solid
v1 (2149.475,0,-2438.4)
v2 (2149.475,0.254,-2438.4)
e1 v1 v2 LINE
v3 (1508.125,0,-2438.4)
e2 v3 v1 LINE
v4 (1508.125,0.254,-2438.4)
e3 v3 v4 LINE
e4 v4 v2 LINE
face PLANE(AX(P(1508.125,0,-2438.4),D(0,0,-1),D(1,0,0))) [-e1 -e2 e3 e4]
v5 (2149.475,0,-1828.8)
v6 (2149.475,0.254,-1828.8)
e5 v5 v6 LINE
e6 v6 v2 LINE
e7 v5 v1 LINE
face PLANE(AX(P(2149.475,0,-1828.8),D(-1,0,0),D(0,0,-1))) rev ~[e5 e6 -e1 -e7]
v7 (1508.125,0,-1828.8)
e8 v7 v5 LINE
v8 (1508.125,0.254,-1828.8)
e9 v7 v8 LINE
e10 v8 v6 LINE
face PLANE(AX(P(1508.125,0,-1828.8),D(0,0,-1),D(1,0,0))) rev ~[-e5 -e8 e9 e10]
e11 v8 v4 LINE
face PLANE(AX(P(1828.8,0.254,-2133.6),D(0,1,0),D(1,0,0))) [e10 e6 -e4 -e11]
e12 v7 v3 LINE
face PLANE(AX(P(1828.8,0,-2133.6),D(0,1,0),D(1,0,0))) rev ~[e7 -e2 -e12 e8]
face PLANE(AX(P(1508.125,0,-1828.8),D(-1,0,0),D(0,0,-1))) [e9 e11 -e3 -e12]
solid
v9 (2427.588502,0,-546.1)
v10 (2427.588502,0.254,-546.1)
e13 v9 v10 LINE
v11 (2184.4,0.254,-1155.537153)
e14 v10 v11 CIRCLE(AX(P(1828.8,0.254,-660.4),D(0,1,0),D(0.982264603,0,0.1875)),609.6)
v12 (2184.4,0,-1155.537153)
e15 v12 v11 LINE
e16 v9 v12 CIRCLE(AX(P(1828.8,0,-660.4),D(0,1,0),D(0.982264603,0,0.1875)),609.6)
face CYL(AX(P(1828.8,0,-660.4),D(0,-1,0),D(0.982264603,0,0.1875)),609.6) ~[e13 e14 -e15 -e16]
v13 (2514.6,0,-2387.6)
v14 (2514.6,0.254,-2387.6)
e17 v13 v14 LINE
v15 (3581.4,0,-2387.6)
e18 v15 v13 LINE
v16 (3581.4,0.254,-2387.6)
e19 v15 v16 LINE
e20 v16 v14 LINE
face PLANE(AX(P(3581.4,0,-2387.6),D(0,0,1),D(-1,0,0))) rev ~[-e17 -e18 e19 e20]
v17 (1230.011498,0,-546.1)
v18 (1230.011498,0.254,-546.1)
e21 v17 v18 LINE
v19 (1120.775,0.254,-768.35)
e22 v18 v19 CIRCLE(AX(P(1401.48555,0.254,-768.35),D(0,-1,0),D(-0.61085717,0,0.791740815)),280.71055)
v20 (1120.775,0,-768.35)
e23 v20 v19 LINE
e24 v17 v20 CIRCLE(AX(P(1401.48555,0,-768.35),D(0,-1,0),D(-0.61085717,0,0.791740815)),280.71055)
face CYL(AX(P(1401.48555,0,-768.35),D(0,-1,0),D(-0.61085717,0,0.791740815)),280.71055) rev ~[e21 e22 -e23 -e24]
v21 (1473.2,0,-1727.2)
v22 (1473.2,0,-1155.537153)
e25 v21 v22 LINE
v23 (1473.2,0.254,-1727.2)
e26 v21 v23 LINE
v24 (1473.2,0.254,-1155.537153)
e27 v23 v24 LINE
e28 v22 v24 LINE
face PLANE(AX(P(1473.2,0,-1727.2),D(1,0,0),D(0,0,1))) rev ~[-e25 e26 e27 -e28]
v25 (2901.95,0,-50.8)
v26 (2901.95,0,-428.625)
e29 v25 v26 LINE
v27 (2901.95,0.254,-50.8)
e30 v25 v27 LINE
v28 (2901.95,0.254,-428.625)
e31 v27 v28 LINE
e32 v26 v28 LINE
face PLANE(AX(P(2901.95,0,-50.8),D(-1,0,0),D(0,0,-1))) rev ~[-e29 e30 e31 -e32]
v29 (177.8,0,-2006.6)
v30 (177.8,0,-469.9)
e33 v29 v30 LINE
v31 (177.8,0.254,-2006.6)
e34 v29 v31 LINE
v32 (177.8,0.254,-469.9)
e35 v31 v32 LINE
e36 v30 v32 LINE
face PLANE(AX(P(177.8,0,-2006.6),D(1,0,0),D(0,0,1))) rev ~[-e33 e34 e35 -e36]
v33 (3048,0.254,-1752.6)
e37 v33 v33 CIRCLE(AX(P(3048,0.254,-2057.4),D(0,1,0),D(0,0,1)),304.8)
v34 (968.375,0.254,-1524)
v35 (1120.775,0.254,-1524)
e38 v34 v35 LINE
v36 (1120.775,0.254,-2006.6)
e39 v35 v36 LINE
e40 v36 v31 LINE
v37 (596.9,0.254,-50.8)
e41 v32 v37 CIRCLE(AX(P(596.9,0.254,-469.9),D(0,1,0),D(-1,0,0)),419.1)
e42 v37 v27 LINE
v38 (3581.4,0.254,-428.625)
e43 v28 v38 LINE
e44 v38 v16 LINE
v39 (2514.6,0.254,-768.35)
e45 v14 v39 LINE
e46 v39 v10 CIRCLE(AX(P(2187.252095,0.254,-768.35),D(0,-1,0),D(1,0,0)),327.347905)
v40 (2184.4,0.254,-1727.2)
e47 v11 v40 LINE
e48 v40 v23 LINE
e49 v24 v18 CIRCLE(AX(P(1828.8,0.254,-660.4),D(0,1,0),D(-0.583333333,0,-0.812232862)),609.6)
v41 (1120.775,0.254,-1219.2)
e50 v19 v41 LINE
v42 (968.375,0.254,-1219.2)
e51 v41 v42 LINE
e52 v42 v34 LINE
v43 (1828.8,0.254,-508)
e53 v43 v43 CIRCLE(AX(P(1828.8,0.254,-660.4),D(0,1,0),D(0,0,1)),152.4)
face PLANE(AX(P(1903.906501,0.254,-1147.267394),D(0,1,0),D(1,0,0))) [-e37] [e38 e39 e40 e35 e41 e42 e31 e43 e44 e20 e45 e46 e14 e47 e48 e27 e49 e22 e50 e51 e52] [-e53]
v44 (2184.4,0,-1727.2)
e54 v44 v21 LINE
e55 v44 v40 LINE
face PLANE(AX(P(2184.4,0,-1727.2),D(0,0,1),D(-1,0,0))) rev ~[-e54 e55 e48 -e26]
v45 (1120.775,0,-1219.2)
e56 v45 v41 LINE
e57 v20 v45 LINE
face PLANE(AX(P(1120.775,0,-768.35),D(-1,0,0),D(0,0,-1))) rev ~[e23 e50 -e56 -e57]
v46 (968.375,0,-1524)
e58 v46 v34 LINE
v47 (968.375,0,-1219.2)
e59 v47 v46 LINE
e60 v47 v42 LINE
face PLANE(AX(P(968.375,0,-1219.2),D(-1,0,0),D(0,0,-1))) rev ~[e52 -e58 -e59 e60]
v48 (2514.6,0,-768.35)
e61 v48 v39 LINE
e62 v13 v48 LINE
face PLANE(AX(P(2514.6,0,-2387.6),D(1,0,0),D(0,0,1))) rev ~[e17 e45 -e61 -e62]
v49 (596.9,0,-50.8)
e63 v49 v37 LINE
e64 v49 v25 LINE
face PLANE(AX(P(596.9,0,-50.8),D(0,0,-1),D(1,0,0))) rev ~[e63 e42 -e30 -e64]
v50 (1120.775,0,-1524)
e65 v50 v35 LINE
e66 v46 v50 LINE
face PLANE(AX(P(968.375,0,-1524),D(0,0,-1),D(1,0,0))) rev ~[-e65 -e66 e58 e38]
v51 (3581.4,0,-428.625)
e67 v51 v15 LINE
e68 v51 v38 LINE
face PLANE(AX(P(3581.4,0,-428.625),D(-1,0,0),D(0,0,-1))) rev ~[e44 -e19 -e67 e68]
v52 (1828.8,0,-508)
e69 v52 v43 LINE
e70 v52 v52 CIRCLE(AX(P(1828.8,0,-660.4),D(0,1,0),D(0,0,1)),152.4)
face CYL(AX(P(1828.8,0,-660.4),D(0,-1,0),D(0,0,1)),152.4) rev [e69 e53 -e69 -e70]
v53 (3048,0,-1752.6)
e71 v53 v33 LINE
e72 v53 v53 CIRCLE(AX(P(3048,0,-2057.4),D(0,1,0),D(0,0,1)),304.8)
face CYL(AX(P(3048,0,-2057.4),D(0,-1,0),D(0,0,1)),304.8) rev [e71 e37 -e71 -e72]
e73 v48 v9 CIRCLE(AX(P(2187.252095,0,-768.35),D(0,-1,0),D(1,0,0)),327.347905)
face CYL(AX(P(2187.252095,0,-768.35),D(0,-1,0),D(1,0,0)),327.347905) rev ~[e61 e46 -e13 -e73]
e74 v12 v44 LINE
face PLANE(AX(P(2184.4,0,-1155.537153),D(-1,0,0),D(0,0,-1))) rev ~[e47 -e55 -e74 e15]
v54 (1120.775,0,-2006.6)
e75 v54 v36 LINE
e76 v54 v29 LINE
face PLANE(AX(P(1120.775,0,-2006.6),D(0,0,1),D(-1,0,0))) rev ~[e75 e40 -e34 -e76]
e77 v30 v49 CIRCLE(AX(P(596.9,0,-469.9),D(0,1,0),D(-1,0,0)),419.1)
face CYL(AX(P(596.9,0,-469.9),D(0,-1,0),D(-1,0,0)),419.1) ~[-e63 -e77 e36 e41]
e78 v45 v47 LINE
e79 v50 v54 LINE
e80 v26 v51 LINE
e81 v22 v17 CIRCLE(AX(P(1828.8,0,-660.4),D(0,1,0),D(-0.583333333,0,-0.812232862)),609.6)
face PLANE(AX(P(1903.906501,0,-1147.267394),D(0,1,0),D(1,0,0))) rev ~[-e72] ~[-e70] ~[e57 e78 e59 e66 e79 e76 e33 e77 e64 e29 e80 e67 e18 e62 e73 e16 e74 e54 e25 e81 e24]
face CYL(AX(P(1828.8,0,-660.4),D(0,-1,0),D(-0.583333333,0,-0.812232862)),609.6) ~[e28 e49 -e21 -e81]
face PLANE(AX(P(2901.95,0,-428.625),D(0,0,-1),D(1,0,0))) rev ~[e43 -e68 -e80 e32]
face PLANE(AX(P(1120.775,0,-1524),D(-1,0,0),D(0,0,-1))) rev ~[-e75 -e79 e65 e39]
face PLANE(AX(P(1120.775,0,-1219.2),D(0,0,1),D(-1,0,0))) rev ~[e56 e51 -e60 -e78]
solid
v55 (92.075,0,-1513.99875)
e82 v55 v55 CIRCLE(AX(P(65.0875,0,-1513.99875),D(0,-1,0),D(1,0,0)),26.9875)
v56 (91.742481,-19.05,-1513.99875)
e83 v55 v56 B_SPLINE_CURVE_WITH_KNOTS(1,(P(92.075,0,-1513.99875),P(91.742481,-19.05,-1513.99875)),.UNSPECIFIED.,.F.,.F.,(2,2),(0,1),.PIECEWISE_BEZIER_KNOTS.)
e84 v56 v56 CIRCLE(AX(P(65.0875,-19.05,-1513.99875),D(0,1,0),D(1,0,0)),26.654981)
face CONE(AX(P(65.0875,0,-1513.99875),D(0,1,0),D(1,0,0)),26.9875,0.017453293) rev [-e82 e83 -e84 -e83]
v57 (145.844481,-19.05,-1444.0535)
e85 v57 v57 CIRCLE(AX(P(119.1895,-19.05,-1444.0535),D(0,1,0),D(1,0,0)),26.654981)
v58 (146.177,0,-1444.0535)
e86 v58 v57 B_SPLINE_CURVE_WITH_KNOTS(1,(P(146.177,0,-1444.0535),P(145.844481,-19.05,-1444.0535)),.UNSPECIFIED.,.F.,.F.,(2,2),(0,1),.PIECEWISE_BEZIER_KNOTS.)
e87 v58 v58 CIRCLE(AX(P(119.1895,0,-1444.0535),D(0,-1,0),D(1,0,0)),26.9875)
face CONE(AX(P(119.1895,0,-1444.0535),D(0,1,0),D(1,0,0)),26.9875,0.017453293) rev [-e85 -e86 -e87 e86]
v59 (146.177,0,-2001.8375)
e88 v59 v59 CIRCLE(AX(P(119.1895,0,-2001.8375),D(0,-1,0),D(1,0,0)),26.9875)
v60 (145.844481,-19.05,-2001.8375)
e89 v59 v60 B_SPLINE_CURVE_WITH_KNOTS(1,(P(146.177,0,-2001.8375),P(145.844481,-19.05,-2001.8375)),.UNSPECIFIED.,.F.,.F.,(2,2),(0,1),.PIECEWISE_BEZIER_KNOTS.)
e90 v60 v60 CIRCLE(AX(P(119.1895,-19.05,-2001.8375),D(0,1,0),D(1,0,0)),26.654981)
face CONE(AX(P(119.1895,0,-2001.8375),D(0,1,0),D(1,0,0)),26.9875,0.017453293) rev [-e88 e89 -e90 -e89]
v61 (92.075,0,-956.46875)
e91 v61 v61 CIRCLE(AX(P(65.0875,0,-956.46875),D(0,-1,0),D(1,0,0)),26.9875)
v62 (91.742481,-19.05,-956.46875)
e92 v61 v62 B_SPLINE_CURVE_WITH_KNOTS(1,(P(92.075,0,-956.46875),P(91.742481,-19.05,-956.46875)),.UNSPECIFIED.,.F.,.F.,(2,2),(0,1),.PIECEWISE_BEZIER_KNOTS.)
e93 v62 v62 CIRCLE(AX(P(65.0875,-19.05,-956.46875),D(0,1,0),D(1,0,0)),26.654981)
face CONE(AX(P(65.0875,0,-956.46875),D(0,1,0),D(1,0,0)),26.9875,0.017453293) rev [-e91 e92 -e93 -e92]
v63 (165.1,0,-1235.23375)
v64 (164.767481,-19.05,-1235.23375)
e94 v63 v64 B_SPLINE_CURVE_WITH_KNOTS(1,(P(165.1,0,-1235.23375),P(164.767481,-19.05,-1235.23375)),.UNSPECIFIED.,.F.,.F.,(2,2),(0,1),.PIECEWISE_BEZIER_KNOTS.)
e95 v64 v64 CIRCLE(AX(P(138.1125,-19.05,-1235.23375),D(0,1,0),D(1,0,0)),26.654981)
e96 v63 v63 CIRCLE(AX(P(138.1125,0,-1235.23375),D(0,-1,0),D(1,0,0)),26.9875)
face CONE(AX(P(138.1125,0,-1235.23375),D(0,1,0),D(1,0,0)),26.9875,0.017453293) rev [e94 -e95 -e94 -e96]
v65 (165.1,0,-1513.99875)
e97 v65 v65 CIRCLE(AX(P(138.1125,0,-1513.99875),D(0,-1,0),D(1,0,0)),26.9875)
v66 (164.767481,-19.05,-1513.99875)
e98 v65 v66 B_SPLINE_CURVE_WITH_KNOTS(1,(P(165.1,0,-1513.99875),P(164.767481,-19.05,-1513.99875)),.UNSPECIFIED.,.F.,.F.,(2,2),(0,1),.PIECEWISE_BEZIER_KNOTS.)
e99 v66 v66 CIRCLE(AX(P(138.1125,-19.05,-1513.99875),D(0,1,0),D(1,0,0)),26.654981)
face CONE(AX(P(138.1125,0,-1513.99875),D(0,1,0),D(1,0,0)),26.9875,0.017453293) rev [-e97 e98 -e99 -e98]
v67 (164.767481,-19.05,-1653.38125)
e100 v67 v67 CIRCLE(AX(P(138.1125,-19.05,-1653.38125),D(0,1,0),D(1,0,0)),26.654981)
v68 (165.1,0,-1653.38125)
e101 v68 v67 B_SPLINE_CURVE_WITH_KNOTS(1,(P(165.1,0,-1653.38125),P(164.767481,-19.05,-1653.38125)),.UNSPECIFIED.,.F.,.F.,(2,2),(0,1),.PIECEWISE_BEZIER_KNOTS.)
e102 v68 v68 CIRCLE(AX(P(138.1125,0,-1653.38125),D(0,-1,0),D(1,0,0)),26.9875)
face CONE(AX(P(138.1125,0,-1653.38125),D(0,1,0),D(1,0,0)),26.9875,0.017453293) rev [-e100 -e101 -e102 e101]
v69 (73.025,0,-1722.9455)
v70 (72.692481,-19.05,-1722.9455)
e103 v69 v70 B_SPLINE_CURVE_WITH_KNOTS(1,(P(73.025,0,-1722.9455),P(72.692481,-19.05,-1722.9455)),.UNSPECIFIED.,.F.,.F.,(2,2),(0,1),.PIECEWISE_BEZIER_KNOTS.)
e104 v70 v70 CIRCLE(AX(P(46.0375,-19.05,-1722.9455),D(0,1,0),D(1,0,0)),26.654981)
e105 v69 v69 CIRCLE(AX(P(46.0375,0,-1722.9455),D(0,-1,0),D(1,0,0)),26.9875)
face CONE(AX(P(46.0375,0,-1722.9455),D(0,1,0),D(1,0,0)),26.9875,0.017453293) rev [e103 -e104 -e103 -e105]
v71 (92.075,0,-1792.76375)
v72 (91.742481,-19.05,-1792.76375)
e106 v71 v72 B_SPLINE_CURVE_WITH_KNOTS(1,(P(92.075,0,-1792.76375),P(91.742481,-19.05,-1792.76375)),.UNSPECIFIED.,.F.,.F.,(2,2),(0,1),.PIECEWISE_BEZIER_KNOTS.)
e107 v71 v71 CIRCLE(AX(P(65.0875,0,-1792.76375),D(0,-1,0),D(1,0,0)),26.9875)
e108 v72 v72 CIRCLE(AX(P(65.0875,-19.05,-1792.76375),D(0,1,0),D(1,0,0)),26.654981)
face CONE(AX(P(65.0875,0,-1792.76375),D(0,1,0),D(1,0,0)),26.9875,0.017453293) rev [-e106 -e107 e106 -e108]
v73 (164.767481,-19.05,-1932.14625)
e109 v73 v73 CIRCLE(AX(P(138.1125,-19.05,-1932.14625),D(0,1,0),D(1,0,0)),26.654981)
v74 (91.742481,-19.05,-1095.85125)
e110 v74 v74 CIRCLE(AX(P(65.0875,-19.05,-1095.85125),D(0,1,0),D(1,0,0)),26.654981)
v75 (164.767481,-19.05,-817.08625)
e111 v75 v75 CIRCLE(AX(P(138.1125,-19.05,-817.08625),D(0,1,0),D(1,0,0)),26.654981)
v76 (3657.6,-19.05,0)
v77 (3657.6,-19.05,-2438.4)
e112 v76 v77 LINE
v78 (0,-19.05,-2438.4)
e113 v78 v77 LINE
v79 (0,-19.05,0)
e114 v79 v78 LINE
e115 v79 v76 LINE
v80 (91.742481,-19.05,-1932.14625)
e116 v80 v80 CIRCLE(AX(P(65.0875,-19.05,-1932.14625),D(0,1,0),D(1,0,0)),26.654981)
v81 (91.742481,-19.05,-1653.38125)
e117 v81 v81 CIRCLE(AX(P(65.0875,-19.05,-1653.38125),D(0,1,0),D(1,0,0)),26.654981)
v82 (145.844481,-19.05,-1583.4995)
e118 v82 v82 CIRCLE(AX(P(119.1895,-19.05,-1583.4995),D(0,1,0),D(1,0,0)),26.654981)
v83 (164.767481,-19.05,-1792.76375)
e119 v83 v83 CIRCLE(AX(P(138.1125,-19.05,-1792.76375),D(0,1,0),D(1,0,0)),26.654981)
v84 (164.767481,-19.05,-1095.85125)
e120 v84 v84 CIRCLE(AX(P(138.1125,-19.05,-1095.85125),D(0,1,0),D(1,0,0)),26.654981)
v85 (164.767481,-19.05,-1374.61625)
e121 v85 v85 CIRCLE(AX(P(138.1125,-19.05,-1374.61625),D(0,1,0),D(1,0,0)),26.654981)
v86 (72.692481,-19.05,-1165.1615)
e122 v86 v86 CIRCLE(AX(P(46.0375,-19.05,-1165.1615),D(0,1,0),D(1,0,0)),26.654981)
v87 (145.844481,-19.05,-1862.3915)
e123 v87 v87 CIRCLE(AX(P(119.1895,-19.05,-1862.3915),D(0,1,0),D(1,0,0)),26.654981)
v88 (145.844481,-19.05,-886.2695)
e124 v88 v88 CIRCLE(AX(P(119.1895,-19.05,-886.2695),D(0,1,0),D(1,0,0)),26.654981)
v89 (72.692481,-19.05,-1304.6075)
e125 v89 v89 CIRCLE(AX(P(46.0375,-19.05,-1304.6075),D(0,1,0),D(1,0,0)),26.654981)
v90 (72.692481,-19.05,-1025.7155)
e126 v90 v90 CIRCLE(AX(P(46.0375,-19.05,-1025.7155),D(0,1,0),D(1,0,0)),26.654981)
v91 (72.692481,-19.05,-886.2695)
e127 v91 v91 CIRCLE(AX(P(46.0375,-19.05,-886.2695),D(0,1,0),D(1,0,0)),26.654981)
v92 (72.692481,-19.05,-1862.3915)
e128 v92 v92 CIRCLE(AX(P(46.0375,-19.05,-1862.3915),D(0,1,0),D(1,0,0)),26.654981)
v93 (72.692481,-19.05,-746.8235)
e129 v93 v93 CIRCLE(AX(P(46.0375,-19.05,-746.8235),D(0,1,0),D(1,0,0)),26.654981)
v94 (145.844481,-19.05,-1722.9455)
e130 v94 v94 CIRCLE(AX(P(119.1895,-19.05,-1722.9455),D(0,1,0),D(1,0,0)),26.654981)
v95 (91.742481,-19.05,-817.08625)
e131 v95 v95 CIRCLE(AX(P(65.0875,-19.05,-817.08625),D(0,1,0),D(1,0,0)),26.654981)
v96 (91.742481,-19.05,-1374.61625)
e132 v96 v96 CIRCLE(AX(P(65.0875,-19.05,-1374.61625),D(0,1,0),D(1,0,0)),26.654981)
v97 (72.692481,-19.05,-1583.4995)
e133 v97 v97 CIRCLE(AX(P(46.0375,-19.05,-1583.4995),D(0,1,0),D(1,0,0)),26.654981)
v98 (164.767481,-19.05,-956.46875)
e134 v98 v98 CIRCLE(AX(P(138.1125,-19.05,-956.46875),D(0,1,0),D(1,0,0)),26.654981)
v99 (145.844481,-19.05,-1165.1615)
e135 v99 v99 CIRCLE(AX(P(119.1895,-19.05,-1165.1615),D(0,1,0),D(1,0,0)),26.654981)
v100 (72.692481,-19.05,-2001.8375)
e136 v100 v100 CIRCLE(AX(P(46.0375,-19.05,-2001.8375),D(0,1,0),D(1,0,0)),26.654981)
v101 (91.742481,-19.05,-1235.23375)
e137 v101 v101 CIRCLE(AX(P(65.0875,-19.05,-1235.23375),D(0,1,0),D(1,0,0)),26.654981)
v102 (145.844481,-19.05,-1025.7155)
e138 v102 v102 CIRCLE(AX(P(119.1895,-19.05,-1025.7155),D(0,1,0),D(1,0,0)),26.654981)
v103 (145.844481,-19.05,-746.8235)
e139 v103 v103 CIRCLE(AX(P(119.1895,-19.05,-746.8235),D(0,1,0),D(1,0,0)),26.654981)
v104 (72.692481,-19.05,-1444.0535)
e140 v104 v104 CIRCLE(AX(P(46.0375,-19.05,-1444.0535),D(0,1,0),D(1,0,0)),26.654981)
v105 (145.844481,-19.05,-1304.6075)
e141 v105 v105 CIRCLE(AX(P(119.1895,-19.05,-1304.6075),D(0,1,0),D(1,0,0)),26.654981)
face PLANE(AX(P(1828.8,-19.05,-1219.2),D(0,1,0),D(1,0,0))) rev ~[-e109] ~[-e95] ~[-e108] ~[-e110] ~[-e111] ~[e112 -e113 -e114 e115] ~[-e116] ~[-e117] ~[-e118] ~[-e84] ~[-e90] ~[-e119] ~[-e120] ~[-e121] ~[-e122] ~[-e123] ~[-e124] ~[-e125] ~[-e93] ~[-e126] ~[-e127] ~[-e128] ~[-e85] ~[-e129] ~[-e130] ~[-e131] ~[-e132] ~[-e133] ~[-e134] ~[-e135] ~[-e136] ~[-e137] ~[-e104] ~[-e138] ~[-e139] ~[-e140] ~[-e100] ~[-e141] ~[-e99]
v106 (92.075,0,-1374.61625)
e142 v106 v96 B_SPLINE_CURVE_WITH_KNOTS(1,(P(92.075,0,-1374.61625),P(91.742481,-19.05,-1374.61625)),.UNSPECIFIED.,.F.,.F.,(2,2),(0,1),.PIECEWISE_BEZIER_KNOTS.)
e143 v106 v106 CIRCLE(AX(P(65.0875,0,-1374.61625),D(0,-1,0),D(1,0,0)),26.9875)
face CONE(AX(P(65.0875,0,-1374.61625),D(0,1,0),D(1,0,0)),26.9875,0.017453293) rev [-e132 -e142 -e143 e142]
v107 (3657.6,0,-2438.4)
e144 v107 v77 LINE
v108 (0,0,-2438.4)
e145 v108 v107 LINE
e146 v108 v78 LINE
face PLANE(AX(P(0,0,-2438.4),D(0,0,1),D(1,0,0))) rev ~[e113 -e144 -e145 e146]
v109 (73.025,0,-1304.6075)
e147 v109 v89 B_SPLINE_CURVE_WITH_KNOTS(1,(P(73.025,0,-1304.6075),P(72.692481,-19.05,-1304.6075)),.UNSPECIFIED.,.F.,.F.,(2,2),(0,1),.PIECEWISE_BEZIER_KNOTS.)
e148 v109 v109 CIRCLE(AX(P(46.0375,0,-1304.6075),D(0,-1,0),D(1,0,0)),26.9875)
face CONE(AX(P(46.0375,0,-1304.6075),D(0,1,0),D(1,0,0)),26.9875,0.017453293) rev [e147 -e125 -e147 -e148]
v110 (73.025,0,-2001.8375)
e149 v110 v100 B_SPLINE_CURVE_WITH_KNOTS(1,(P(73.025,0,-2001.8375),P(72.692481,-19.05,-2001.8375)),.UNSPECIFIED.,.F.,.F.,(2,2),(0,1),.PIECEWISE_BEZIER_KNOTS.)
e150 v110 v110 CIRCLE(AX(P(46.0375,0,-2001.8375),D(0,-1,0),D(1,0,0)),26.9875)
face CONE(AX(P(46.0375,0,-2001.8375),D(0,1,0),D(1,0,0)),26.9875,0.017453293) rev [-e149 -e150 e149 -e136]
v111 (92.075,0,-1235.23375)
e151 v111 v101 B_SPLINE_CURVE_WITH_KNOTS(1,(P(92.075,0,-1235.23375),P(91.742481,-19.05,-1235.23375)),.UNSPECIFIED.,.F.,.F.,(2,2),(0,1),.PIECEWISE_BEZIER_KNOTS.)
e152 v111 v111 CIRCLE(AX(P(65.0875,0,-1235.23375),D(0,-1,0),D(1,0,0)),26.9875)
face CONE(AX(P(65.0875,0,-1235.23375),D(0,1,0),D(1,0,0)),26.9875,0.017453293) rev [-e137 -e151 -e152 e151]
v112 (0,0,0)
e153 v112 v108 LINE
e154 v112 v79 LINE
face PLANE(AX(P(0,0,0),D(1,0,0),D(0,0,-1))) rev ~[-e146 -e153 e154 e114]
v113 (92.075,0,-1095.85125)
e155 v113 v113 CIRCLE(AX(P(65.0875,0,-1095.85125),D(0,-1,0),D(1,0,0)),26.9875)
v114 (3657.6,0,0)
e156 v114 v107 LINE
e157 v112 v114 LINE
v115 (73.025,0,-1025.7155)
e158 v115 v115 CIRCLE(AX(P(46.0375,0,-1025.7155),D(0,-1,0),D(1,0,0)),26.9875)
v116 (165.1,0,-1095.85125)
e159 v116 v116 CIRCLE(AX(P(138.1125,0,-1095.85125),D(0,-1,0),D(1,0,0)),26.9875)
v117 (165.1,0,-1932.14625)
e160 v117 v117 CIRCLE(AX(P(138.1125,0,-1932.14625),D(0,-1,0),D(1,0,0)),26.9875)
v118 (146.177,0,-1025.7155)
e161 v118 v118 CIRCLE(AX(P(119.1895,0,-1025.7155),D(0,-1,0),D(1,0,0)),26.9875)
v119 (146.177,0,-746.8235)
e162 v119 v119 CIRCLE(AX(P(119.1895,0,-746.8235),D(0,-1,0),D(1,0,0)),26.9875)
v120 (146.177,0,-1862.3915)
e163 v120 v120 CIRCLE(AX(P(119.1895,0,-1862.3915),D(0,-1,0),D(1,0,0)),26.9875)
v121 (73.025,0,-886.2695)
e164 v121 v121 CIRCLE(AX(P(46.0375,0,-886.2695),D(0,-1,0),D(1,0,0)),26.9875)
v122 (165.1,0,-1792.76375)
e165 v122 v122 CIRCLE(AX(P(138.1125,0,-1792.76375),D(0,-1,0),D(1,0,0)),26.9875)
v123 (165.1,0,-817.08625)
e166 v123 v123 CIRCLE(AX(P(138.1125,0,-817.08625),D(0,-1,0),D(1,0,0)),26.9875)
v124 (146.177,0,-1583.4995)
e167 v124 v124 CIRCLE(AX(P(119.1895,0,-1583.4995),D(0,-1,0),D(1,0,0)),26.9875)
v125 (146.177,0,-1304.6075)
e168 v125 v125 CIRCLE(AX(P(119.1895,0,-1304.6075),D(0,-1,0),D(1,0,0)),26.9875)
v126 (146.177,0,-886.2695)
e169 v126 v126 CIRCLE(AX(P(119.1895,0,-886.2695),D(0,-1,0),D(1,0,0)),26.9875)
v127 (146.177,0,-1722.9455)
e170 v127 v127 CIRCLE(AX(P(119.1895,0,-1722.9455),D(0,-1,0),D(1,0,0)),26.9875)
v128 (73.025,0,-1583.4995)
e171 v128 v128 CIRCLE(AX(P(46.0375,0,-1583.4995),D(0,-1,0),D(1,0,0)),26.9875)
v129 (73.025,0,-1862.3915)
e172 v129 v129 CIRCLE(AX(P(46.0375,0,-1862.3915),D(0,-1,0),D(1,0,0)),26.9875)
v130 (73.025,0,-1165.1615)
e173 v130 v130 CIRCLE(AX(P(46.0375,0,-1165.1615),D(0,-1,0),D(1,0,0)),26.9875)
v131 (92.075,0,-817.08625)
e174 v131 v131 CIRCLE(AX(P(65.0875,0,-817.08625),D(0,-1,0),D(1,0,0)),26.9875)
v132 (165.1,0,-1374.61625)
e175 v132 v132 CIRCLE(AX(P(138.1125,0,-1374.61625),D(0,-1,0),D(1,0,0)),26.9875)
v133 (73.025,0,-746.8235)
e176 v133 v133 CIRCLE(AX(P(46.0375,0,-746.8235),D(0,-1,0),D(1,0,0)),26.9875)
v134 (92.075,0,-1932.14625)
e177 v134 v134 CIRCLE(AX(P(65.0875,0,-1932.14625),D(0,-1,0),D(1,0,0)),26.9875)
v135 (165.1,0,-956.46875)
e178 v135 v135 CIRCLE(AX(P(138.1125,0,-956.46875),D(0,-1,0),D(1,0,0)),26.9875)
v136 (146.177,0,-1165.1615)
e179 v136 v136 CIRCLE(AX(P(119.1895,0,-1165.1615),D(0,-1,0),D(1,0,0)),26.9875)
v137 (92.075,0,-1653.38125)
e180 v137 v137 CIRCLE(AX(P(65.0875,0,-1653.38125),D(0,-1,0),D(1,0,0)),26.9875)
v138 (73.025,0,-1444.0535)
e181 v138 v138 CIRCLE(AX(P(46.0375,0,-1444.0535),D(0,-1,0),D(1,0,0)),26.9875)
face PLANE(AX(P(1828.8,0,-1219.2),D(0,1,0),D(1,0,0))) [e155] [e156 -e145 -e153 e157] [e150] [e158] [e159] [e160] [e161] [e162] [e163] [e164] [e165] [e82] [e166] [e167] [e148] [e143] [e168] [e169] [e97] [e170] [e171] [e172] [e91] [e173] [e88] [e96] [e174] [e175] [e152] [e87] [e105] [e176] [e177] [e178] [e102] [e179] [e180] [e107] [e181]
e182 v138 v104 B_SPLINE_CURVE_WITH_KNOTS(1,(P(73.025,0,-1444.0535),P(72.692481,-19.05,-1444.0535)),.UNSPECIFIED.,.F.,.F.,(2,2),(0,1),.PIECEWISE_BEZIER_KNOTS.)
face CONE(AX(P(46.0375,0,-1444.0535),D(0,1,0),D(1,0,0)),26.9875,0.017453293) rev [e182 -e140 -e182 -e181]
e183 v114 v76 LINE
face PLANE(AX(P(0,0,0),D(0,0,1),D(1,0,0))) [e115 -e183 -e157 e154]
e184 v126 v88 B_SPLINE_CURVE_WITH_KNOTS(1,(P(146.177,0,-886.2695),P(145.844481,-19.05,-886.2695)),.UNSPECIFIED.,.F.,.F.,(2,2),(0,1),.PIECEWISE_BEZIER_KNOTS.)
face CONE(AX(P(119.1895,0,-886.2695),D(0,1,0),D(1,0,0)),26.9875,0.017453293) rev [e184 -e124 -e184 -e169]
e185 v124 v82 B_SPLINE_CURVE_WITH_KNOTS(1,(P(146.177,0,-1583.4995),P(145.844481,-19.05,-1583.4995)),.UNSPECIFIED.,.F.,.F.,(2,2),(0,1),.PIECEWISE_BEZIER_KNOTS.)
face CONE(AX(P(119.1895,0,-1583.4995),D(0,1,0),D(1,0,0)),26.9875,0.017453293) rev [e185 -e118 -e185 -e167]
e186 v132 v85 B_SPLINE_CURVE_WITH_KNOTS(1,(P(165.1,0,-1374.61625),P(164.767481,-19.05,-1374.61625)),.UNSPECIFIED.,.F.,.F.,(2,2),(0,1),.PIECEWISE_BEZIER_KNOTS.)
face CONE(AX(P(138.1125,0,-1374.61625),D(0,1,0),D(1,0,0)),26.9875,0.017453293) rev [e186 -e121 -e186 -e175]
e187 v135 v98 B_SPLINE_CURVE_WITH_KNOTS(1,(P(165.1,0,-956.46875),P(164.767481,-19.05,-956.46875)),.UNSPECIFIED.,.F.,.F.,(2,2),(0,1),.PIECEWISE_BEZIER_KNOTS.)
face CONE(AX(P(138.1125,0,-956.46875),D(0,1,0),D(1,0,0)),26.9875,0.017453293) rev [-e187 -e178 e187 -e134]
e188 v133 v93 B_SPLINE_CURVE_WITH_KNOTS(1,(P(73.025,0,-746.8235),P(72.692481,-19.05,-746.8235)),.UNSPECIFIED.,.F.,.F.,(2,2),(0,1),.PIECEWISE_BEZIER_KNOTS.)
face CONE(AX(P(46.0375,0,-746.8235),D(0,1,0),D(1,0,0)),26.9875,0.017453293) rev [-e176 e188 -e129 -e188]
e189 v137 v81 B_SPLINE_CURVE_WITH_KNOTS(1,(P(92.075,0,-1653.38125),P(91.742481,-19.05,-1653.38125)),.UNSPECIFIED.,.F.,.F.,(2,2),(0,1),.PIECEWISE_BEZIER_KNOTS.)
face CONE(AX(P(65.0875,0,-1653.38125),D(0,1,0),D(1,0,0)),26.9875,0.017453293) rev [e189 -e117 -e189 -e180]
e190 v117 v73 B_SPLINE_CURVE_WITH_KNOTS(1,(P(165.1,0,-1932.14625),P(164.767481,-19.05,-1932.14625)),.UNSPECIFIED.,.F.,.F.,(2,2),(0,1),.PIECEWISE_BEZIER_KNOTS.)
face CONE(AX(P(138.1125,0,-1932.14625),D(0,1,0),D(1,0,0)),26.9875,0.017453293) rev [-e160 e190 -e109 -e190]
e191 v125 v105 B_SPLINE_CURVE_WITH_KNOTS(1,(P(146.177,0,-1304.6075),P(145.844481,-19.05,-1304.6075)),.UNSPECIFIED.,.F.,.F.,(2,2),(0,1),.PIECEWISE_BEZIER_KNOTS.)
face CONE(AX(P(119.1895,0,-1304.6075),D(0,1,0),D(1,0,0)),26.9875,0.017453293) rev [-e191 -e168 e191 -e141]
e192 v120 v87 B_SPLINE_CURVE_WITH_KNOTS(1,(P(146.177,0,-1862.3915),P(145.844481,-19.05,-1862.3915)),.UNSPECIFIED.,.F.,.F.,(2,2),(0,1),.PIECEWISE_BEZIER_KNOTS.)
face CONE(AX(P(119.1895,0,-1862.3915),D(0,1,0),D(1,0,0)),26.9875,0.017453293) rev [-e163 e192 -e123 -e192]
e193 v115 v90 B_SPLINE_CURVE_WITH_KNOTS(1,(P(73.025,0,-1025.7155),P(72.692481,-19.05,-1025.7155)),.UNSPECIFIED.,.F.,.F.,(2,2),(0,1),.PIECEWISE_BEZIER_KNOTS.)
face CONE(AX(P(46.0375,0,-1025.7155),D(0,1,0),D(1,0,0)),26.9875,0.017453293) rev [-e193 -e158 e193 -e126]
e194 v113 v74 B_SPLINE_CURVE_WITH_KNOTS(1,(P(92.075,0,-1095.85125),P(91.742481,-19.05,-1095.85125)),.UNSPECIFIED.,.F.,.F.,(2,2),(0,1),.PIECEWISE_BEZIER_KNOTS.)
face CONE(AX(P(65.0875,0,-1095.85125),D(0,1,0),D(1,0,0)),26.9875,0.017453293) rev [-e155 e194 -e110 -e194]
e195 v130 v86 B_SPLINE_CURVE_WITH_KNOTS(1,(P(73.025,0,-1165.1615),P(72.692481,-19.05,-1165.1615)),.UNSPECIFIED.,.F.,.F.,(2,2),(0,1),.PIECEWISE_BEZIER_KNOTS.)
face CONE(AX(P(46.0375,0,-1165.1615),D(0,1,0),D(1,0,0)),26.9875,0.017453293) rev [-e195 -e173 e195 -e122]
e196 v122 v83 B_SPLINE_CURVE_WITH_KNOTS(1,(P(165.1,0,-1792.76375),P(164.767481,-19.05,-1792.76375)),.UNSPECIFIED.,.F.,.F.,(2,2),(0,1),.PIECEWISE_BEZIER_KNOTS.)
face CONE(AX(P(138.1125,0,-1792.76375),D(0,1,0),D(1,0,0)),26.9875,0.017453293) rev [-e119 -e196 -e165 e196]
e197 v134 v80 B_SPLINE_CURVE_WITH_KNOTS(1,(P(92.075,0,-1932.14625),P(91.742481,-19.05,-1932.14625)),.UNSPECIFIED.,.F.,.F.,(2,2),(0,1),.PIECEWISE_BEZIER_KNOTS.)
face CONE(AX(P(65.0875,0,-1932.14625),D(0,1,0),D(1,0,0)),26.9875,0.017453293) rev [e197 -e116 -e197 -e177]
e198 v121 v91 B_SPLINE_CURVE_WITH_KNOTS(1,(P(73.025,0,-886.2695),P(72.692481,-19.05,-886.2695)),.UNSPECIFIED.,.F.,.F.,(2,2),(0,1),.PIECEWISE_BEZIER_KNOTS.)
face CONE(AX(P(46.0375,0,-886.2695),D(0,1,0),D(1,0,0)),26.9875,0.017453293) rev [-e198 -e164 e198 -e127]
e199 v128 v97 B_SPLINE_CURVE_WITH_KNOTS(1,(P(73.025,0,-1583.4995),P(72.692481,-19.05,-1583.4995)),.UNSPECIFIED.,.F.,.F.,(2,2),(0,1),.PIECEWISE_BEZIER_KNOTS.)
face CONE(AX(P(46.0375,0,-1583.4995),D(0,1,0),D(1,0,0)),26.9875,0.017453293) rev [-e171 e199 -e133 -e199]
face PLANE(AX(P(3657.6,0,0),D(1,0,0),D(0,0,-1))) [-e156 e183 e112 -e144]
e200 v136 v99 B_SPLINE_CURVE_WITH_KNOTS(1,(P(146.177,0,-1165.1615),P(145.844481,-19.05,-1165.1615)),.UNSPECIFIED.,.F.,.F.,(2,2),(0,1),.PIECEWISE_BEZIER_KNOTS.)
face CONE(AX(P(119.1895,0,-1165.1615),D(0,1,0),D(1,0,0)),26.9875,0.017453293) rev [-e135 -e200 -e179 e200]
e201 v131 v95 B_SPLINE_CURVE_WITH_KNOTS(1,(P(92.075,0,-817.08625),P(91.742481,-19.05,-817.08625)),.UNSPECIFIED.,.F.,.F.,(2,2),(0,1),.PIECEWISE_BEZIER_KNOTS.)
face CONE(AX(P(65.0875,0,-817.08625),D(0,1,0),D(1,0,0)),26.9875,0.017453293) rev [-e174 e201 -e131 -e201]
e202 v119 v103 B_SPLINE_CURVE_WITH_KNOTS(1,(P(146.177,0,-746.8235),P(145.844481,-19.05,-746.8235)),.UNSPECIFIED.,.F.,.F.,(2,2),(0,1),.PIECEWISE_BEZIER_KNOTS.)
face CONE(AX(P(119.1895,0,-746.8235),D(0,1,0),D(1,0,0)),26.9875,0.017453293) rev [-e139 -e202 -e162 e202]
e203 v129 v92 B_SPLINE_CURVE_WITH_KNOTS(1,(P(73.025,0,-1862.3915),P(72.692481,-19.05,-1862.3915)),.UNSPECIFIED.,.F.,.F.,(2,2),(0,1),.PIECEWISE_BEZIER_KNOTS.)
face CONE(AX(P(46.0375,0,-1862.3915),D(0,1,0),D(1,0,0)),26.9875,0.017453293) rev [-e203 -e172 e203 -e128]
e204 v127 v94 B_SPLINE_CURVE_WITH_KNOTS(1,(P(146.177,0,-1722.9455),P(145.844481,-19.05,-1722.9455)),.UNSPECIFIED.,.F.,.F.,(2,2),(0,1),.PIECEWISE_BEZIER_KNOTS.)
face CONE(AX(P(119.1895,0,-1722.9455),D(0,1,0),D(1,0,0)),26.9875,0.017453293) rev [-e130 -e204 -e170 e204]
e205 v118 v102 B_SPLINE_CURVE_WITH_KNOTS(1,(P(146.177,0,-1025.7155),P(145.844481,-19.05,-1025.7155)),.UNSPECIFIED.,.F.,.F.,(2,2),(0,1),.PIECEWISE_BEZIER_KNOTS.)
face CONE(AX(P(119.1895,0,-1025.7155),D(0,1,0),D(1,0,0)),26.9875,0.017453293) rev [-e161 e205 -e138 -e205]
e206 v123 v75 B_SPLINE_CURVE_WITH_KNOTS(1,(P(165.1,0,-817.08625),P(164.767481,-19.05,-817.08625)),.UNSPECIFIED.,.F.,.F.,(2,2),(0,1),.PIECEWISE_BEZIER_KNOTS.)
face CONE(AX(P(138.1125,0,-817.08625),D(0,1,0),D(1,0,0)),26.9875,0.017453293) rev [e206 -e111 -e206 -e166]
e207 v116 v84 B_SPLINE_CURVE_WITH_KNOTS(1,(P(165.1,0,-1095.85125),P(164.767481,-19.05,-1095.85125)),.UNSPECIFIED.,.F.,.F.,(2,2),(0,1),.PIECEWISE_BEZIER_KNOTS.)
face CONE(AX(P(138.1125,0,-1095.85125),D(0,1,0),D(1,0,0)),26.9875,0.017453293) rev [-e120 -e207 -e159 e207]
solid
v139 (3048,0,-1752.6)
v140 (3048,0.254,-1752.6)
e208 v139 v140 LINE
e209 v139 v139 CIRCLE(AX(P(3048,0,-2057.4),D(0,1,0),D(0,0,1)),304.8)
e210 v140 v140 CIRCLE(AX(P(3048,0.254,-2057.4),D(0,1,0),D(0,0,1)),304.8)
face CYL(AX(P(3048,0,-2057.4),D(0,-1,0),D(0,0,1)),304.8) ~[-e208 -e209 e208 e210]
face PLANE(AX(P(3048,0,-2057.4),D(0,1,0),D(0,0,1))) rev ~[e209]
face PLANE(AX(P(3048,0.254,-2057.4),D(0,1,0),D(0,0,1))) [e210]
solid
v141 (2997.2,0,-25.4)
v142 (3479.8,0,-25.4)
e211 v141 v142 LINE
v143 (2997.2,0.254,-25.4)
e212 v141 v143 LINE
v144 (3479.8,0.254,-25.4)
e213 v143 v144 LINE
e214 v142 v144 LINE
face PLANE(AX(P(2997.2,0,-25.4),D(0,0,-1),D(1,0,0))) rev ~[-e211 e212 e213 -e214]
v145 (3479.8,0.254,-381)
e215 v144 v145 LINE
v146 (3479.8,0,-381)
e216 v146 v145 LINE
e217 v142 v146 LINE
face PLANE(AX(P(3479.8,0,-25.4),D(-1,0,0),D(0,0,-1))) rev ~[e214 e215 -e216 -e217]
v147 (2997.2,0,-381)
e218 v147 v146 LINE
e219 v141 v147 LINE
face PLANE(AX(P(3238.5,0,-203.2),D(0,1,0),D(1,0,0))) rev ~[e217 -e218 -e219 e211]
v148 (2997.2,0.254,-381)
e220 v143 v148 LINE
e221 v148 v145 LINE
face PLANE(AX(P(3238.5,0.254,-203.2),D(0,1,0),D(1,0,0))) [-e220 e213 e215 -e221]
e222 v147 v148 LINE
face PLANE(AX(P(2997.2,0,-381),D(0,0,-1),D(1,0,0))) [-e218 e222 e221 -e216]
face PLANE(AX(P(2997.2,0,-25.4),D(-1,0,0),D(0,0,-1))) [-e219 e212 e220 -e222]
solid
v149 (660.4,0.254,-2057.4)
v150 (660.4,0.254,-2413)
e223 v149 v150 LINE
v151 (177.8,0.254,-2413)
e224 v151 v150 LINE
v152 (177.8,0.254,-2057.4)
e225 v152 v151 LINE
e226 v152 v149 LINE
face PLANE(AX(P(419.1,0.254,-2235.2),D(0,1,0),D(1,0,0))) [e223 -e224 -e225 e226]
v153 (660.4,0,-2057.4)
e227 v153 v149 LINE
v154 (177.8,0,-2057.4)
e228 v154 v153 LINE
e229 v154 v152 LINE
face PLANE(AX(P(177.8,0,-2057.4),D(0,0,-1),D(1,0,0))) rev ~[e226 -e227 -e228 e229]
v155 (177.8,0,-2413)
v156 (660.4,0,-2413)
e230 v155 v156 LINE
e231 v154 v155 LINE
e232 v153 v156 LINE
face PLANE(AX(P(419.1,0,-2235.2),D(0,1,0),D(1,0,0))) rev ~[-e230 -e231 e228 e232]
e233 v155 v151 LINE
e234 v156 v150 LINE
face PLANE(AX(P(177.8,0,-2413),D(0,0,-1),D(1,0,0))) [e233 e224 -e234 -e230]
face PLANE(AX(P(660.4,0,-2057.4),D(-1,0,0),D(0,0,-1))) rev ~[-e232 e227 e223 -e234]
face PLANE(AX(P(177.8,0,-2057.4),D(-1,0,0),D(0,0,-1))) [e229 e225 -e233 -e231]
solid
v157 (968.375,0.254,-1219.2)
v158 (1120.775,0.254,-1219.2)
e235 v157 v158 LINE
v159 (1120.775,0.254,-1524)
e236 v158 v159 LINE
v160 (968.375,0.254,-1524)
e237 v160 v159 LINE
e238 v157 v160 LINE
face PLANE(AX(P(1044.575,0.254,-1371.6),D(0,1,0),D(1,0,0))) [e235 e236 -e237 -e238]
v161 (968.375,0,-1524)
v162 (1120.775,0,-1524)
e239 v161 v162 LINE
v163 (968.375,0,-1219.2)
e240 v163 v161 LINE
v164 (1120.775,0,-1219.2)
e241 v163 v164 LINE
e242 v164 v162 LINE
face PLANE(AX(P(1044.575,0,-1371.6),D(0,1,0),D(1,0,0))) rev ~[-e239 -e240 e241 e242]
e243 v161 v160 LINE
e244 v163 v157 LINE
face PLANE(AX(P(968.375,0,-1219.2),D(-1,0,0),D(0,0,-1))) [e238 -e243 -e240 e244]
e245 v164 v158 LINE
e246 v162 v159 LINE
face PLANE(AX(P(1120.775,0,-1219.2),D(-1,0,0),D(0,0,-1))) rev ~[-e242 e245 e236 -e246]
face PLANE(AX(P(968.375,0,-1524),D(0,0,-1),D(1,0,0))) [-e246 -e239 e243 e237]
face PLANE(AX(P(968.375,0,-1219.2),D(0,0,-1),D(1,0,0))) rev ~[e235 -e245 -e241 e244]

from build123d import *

# Parameters (mm, degrees)
SKETCH1_W          = 3657.6
SKETCH1_H          = 2438.4
GRASS_DEPTH        = 19.05
DIMENSIONS_R       = 152.4
DIMENSIONS_R_2     = 304.8
STREET_DEPTH       = 0.254
SKETCH2_4_W        = 482.6
SKETCH2_4_H        = 355.6
BASES_DEPTH        = 0.254
BASES_2_DEPTH      = 0.254
DIMENSIONS_5_R     = 304.8
MT_SIMMONS_DEPTH   = 0.254
DIMENSIONS_6_W     = 641.35
DIMENSIONS_6_H     = 609.6
HOUSE_DEPTH        = 0.254
SKETCH4_R          = 26.9875
CUT_EXTRUDE3_DEPTH = 19.05
CUT_EXTRUDE3_TAPER = 1
DIMENSIONS_8_W     = 152.4
DIMENSIONS_8_H     = 304.8
PARKING_DEPTH      = 0.254


with BuildPart() as part:
    # Sketch1 → Grass (new body)
    with BuildSketch(Plane(origin=(0, 0, 0), x_dir=(1, 0, 0), z_dir=(0, 1, 0))):
        with Locations((1828.8, 1219.2)):
            Rectangle(SKETCH1_W, SKETCH1_H)
    extrude(amount=-GRASS_DEPTH)

    # Sketch4 → Cut-Extrude3 (cut)
    with BuildSketch(Plane(origin=(0, 0, 0), x_dir=(1, 0, 0), z_dir=(0, 1, 0))):
        with Locations((46.0375, 2001.8375)):
            Circle(SKETCH4_R)
        with Locations((65.0875, 1932.14625)):
            Circle(SKETCH4_R)
        with Locations((46.0375, 1862.3915)):
            Circle(SKETCH4_R)
        with Locations((46.0375, 1722.9455)):
            Circle(SKETCH4_R)
        with Locations((46.0375, 1583.4995)):
            Circle(SKETCH4_R)
        with Locations((46.0375, 1444.0535)):
            Circle(SKETCH4_R)
        with Locations((46.0375, 1304.6075)):
            Circle(SKETCH4_R)
        with Locations((46.0375, 1165.1615)):
            Circle(SKETCH4_R)
        with Locations((46.0375, 1025.7155)):
            Circle(SKETCH4_R)
        with Locations((46.0375, 886.2695)):
            Circle(SKETCH4_R)
        with Locations((46.0375, 746.8235)):
            Circle(SKETCH4_R)
        with Locations((65.0875, 1792.76375)):
            Circle(SKETCH4_R)
        with Locations((65.0875, 1653.38125)):
            Circle(SKETCH4_R)
        with Locations((65.0875, 1513.99875)):
            Circle(SKETCH4_R)
        with Locations((65.0875, 1374.61625)):
            Circle(SKETCH4_R)
        with Locations((65.0875, 1235.23375)):
            Circle(SKETCH4_R)
        with Locations((65.0875, 1095.85125)):
            Circle(SKETCH4_R)
        with Locations((65.0875, 956.46875)):
            Circle(SKETCH4_R)
        with Locations((65.0875, 817.08625)):
            Circle(SKETCH4_R)
        with Locations((138.1125, 1792.76375)):
            Circle(SKETCH4_R)
        with Locations((138.1125, 1653.38125)):
            Circle(SKETCH4_R)
        with Locations((138.1125, 1513.99875)):
            Circle(SKETCH4_R)
        with Locations((138.1125, 1374.61625)):
            Circle(SKETCH4_R)
        with Locations((138.1125, 1235.23375)):
            Circle(SKETCH4_R)
        with Locations((138.1125, 1095.85125)):
            Circle(SKETCH4_R)
        with Locations((138.1125, 956.46875)):
            Circle(SKETCH4_R)
        with Locations((138.1125, 817.08625)):
            Circle(SKETCH4_R)
        with Locations((138.1125, 1932.14625)):
            Circle(SKETCH4_R)
        with Locations((119.1895, 2001.8375)):
            Circle(SKETCH4_R)
        with Locations((119.1895, 1862.3915)):
            Circle(SKETCH4_R)
        with Locations((119.1895, 1722.9455)):
            Circle(SKETCH4_R)
        with Locations((119.1895, 1583.4995)):
            Circle(SKETCH4_R)
        with Locations((119.1895, 1444.0535)):
            Circle(SKETCH4_R)
        with Locations((119.1895, 1304.6075)):
            Circle(SKETCH4_R)
        with Locations((119.1895, 1165.1615)):
            Circle(SKETCH4_R)
        with Locations((119.1895, 1025.7155)):
            Circle(SKETCH4_R)
        with Locations((119.1895, 886.2695)):
            Circle(SKETCH4_R)
        with Locations((119.1895, 746.8235)):
            Circle(SKETCH4_R)
    extrude(amount=-CUT_EXTRUDE3_DEPTH, taper=CUT_EXTRUDE3_TAPER, mode=Mode.SUBTRACT)


with BuildPart() as body_2:
    # Dimensions → Street (new body)
    with BuildSketch(Plane(origin=(0, 0, 0), x_dir=(1, 0, 0), z_dir=(0, 1, 0))):
        with BuildLine():
            Line((1120.775, 2006.6), (177.8, 2006.6))
            Line((177.8, 2006.6), (177.8, 469.9))
            ThreePointArc((177.8, 469.9), (300.551548005, 173.551548005), (596.9, 50.8))
            Line((596.9, 50.8), (2901.95, 50.8))
            Line((2901.95, 50.8), (2901.95, 428.625))
            Line((2901.95, 428.625), (3581.4, 428.625))
            Line((3581.4, 428.625), (3581.4, 2387.6))
            Line((3581.4, 2387.6), (2514.6, 2387.6))
            Line((2514.6, 2387.6), (2514.6, 768.35))
            ThreePointArc((2514.6, 768.35), (2492.071935398, 649.012177724), (2427.588501894, 546.1))
            ThreePointArc((2427.588501894, 546.1), (2394.987039691, 886.330069016), (2184.4, 1155.537152716))
            Line((2184.4, 1155.537152716), (2184.4, 1727.2))
            Line((2184.4, 1727.2), (1473.2, 1727.2))
            Line((1473.2, 1727.2), (1473.2, 1155.537152716))
            ThreePointArc((1473.2, 1155.537152716), (1262.612960309, 886.330069016), (1230.011498106, 546.1))
            ThreePointArc((1230.011498106, 546.1), (1149.559977358, 644.527874535), (1120.775, 768.35))
            Line((1120.775, 768.35), (1120.775, 1219.2))
            Line((1120.775, 1219.2), (968.375, 1219.2))
            Line((968.375, 1219.2), (968.375, 1524))
            Line((968.375, 1524), (1120.775, 1524))
            Line((1120.775, 1524), (1120.775, 2006.6))
        make_face()
        with Locations(Location((1828.8, 660.4, 0), (0, 0, 270))):
            Circle(DIMENSIONS_R, mode=Mode.SUBTRACT)
        with Locations(Location((3048, 2057.4, 0), (0, 0, 270))):
            Circle(DIMENSIONS_R_2, mode=Mode.SUBTRACT)
    extrude(amount=STREET_DEPTH)


with BuildPart() as body_3:
    # Sketch2<4> → Bases (new body)
    with BuildSketch(Plane(origin=(0, 0, 0), x_dir=(1, 0, 0), z_dir=(0, 1, 0))):
        with Locations((419.1, 2235.2)):
            Rectangle(SKETCH2_4_W, SKETCH2_4_H)
    extrude(amount=BASES_DEPTH)


with BuildPart() as body_4:
    # Sketch2<4> → Bases 2 (new body)
    with BuildSketch(Plane(origin=(0, 0, 0), x_dir=(1, 0, 0), z_dir=(0, 1, 0))):
        with Locations((3238.5, 203.2)):
            Rectangle(SKETCH2_4_W, SKETCH2_4_H)
    extrude(amount=BASES_2_DEPTH)


with BuildPart() as body_5:
    # Dimensions<5> → Mt Simmons (new body)
    with BuildSketch(Plane(origin=(0, 0, 0), x_dir=(1, 0, 0), z_dir=(0, 1, 0))):
        with Locations(Location((3048, 2057.4, 0), (0, 0, 270))):
            Circle(DIMENSIONS_5_R)
    extrude(amount=MT_SIMMONS_DEPTH)


with BuildPart() as body_6:
    # Dimensions<6> → House (new body)
    with BuildSketch(Plane(origin=(0, 0, 0), x_dir=(1, 0, 0), z_dir=(0, 1, 0))):
        with Locations((1828.8, 2133.6)):
            Rectangle(DIMENSIONS_6_W, DIMENSIONS_6_H)
    extrude(amount=HOUSE_DEPTH)


with BuildPart() as body_7:
    # Dimensions<8> → Parking (new body)
    with BuildSketch(Plane(origin=(0, 0, 0), x_dir=(1, 0, 0), z_dir=(0, 1, 0))):
        with Locations((1044.575, 1371.6)):
            Rectangle(DIMENSIONS_8_W, DIMENSIONS_8_H)
    extrude(amount=PARKING_DEPTH)


solid = Compound([part.part, body_2.part, body_3.part, body_4.part, body_5.part, body_6.part, body_7.part])
